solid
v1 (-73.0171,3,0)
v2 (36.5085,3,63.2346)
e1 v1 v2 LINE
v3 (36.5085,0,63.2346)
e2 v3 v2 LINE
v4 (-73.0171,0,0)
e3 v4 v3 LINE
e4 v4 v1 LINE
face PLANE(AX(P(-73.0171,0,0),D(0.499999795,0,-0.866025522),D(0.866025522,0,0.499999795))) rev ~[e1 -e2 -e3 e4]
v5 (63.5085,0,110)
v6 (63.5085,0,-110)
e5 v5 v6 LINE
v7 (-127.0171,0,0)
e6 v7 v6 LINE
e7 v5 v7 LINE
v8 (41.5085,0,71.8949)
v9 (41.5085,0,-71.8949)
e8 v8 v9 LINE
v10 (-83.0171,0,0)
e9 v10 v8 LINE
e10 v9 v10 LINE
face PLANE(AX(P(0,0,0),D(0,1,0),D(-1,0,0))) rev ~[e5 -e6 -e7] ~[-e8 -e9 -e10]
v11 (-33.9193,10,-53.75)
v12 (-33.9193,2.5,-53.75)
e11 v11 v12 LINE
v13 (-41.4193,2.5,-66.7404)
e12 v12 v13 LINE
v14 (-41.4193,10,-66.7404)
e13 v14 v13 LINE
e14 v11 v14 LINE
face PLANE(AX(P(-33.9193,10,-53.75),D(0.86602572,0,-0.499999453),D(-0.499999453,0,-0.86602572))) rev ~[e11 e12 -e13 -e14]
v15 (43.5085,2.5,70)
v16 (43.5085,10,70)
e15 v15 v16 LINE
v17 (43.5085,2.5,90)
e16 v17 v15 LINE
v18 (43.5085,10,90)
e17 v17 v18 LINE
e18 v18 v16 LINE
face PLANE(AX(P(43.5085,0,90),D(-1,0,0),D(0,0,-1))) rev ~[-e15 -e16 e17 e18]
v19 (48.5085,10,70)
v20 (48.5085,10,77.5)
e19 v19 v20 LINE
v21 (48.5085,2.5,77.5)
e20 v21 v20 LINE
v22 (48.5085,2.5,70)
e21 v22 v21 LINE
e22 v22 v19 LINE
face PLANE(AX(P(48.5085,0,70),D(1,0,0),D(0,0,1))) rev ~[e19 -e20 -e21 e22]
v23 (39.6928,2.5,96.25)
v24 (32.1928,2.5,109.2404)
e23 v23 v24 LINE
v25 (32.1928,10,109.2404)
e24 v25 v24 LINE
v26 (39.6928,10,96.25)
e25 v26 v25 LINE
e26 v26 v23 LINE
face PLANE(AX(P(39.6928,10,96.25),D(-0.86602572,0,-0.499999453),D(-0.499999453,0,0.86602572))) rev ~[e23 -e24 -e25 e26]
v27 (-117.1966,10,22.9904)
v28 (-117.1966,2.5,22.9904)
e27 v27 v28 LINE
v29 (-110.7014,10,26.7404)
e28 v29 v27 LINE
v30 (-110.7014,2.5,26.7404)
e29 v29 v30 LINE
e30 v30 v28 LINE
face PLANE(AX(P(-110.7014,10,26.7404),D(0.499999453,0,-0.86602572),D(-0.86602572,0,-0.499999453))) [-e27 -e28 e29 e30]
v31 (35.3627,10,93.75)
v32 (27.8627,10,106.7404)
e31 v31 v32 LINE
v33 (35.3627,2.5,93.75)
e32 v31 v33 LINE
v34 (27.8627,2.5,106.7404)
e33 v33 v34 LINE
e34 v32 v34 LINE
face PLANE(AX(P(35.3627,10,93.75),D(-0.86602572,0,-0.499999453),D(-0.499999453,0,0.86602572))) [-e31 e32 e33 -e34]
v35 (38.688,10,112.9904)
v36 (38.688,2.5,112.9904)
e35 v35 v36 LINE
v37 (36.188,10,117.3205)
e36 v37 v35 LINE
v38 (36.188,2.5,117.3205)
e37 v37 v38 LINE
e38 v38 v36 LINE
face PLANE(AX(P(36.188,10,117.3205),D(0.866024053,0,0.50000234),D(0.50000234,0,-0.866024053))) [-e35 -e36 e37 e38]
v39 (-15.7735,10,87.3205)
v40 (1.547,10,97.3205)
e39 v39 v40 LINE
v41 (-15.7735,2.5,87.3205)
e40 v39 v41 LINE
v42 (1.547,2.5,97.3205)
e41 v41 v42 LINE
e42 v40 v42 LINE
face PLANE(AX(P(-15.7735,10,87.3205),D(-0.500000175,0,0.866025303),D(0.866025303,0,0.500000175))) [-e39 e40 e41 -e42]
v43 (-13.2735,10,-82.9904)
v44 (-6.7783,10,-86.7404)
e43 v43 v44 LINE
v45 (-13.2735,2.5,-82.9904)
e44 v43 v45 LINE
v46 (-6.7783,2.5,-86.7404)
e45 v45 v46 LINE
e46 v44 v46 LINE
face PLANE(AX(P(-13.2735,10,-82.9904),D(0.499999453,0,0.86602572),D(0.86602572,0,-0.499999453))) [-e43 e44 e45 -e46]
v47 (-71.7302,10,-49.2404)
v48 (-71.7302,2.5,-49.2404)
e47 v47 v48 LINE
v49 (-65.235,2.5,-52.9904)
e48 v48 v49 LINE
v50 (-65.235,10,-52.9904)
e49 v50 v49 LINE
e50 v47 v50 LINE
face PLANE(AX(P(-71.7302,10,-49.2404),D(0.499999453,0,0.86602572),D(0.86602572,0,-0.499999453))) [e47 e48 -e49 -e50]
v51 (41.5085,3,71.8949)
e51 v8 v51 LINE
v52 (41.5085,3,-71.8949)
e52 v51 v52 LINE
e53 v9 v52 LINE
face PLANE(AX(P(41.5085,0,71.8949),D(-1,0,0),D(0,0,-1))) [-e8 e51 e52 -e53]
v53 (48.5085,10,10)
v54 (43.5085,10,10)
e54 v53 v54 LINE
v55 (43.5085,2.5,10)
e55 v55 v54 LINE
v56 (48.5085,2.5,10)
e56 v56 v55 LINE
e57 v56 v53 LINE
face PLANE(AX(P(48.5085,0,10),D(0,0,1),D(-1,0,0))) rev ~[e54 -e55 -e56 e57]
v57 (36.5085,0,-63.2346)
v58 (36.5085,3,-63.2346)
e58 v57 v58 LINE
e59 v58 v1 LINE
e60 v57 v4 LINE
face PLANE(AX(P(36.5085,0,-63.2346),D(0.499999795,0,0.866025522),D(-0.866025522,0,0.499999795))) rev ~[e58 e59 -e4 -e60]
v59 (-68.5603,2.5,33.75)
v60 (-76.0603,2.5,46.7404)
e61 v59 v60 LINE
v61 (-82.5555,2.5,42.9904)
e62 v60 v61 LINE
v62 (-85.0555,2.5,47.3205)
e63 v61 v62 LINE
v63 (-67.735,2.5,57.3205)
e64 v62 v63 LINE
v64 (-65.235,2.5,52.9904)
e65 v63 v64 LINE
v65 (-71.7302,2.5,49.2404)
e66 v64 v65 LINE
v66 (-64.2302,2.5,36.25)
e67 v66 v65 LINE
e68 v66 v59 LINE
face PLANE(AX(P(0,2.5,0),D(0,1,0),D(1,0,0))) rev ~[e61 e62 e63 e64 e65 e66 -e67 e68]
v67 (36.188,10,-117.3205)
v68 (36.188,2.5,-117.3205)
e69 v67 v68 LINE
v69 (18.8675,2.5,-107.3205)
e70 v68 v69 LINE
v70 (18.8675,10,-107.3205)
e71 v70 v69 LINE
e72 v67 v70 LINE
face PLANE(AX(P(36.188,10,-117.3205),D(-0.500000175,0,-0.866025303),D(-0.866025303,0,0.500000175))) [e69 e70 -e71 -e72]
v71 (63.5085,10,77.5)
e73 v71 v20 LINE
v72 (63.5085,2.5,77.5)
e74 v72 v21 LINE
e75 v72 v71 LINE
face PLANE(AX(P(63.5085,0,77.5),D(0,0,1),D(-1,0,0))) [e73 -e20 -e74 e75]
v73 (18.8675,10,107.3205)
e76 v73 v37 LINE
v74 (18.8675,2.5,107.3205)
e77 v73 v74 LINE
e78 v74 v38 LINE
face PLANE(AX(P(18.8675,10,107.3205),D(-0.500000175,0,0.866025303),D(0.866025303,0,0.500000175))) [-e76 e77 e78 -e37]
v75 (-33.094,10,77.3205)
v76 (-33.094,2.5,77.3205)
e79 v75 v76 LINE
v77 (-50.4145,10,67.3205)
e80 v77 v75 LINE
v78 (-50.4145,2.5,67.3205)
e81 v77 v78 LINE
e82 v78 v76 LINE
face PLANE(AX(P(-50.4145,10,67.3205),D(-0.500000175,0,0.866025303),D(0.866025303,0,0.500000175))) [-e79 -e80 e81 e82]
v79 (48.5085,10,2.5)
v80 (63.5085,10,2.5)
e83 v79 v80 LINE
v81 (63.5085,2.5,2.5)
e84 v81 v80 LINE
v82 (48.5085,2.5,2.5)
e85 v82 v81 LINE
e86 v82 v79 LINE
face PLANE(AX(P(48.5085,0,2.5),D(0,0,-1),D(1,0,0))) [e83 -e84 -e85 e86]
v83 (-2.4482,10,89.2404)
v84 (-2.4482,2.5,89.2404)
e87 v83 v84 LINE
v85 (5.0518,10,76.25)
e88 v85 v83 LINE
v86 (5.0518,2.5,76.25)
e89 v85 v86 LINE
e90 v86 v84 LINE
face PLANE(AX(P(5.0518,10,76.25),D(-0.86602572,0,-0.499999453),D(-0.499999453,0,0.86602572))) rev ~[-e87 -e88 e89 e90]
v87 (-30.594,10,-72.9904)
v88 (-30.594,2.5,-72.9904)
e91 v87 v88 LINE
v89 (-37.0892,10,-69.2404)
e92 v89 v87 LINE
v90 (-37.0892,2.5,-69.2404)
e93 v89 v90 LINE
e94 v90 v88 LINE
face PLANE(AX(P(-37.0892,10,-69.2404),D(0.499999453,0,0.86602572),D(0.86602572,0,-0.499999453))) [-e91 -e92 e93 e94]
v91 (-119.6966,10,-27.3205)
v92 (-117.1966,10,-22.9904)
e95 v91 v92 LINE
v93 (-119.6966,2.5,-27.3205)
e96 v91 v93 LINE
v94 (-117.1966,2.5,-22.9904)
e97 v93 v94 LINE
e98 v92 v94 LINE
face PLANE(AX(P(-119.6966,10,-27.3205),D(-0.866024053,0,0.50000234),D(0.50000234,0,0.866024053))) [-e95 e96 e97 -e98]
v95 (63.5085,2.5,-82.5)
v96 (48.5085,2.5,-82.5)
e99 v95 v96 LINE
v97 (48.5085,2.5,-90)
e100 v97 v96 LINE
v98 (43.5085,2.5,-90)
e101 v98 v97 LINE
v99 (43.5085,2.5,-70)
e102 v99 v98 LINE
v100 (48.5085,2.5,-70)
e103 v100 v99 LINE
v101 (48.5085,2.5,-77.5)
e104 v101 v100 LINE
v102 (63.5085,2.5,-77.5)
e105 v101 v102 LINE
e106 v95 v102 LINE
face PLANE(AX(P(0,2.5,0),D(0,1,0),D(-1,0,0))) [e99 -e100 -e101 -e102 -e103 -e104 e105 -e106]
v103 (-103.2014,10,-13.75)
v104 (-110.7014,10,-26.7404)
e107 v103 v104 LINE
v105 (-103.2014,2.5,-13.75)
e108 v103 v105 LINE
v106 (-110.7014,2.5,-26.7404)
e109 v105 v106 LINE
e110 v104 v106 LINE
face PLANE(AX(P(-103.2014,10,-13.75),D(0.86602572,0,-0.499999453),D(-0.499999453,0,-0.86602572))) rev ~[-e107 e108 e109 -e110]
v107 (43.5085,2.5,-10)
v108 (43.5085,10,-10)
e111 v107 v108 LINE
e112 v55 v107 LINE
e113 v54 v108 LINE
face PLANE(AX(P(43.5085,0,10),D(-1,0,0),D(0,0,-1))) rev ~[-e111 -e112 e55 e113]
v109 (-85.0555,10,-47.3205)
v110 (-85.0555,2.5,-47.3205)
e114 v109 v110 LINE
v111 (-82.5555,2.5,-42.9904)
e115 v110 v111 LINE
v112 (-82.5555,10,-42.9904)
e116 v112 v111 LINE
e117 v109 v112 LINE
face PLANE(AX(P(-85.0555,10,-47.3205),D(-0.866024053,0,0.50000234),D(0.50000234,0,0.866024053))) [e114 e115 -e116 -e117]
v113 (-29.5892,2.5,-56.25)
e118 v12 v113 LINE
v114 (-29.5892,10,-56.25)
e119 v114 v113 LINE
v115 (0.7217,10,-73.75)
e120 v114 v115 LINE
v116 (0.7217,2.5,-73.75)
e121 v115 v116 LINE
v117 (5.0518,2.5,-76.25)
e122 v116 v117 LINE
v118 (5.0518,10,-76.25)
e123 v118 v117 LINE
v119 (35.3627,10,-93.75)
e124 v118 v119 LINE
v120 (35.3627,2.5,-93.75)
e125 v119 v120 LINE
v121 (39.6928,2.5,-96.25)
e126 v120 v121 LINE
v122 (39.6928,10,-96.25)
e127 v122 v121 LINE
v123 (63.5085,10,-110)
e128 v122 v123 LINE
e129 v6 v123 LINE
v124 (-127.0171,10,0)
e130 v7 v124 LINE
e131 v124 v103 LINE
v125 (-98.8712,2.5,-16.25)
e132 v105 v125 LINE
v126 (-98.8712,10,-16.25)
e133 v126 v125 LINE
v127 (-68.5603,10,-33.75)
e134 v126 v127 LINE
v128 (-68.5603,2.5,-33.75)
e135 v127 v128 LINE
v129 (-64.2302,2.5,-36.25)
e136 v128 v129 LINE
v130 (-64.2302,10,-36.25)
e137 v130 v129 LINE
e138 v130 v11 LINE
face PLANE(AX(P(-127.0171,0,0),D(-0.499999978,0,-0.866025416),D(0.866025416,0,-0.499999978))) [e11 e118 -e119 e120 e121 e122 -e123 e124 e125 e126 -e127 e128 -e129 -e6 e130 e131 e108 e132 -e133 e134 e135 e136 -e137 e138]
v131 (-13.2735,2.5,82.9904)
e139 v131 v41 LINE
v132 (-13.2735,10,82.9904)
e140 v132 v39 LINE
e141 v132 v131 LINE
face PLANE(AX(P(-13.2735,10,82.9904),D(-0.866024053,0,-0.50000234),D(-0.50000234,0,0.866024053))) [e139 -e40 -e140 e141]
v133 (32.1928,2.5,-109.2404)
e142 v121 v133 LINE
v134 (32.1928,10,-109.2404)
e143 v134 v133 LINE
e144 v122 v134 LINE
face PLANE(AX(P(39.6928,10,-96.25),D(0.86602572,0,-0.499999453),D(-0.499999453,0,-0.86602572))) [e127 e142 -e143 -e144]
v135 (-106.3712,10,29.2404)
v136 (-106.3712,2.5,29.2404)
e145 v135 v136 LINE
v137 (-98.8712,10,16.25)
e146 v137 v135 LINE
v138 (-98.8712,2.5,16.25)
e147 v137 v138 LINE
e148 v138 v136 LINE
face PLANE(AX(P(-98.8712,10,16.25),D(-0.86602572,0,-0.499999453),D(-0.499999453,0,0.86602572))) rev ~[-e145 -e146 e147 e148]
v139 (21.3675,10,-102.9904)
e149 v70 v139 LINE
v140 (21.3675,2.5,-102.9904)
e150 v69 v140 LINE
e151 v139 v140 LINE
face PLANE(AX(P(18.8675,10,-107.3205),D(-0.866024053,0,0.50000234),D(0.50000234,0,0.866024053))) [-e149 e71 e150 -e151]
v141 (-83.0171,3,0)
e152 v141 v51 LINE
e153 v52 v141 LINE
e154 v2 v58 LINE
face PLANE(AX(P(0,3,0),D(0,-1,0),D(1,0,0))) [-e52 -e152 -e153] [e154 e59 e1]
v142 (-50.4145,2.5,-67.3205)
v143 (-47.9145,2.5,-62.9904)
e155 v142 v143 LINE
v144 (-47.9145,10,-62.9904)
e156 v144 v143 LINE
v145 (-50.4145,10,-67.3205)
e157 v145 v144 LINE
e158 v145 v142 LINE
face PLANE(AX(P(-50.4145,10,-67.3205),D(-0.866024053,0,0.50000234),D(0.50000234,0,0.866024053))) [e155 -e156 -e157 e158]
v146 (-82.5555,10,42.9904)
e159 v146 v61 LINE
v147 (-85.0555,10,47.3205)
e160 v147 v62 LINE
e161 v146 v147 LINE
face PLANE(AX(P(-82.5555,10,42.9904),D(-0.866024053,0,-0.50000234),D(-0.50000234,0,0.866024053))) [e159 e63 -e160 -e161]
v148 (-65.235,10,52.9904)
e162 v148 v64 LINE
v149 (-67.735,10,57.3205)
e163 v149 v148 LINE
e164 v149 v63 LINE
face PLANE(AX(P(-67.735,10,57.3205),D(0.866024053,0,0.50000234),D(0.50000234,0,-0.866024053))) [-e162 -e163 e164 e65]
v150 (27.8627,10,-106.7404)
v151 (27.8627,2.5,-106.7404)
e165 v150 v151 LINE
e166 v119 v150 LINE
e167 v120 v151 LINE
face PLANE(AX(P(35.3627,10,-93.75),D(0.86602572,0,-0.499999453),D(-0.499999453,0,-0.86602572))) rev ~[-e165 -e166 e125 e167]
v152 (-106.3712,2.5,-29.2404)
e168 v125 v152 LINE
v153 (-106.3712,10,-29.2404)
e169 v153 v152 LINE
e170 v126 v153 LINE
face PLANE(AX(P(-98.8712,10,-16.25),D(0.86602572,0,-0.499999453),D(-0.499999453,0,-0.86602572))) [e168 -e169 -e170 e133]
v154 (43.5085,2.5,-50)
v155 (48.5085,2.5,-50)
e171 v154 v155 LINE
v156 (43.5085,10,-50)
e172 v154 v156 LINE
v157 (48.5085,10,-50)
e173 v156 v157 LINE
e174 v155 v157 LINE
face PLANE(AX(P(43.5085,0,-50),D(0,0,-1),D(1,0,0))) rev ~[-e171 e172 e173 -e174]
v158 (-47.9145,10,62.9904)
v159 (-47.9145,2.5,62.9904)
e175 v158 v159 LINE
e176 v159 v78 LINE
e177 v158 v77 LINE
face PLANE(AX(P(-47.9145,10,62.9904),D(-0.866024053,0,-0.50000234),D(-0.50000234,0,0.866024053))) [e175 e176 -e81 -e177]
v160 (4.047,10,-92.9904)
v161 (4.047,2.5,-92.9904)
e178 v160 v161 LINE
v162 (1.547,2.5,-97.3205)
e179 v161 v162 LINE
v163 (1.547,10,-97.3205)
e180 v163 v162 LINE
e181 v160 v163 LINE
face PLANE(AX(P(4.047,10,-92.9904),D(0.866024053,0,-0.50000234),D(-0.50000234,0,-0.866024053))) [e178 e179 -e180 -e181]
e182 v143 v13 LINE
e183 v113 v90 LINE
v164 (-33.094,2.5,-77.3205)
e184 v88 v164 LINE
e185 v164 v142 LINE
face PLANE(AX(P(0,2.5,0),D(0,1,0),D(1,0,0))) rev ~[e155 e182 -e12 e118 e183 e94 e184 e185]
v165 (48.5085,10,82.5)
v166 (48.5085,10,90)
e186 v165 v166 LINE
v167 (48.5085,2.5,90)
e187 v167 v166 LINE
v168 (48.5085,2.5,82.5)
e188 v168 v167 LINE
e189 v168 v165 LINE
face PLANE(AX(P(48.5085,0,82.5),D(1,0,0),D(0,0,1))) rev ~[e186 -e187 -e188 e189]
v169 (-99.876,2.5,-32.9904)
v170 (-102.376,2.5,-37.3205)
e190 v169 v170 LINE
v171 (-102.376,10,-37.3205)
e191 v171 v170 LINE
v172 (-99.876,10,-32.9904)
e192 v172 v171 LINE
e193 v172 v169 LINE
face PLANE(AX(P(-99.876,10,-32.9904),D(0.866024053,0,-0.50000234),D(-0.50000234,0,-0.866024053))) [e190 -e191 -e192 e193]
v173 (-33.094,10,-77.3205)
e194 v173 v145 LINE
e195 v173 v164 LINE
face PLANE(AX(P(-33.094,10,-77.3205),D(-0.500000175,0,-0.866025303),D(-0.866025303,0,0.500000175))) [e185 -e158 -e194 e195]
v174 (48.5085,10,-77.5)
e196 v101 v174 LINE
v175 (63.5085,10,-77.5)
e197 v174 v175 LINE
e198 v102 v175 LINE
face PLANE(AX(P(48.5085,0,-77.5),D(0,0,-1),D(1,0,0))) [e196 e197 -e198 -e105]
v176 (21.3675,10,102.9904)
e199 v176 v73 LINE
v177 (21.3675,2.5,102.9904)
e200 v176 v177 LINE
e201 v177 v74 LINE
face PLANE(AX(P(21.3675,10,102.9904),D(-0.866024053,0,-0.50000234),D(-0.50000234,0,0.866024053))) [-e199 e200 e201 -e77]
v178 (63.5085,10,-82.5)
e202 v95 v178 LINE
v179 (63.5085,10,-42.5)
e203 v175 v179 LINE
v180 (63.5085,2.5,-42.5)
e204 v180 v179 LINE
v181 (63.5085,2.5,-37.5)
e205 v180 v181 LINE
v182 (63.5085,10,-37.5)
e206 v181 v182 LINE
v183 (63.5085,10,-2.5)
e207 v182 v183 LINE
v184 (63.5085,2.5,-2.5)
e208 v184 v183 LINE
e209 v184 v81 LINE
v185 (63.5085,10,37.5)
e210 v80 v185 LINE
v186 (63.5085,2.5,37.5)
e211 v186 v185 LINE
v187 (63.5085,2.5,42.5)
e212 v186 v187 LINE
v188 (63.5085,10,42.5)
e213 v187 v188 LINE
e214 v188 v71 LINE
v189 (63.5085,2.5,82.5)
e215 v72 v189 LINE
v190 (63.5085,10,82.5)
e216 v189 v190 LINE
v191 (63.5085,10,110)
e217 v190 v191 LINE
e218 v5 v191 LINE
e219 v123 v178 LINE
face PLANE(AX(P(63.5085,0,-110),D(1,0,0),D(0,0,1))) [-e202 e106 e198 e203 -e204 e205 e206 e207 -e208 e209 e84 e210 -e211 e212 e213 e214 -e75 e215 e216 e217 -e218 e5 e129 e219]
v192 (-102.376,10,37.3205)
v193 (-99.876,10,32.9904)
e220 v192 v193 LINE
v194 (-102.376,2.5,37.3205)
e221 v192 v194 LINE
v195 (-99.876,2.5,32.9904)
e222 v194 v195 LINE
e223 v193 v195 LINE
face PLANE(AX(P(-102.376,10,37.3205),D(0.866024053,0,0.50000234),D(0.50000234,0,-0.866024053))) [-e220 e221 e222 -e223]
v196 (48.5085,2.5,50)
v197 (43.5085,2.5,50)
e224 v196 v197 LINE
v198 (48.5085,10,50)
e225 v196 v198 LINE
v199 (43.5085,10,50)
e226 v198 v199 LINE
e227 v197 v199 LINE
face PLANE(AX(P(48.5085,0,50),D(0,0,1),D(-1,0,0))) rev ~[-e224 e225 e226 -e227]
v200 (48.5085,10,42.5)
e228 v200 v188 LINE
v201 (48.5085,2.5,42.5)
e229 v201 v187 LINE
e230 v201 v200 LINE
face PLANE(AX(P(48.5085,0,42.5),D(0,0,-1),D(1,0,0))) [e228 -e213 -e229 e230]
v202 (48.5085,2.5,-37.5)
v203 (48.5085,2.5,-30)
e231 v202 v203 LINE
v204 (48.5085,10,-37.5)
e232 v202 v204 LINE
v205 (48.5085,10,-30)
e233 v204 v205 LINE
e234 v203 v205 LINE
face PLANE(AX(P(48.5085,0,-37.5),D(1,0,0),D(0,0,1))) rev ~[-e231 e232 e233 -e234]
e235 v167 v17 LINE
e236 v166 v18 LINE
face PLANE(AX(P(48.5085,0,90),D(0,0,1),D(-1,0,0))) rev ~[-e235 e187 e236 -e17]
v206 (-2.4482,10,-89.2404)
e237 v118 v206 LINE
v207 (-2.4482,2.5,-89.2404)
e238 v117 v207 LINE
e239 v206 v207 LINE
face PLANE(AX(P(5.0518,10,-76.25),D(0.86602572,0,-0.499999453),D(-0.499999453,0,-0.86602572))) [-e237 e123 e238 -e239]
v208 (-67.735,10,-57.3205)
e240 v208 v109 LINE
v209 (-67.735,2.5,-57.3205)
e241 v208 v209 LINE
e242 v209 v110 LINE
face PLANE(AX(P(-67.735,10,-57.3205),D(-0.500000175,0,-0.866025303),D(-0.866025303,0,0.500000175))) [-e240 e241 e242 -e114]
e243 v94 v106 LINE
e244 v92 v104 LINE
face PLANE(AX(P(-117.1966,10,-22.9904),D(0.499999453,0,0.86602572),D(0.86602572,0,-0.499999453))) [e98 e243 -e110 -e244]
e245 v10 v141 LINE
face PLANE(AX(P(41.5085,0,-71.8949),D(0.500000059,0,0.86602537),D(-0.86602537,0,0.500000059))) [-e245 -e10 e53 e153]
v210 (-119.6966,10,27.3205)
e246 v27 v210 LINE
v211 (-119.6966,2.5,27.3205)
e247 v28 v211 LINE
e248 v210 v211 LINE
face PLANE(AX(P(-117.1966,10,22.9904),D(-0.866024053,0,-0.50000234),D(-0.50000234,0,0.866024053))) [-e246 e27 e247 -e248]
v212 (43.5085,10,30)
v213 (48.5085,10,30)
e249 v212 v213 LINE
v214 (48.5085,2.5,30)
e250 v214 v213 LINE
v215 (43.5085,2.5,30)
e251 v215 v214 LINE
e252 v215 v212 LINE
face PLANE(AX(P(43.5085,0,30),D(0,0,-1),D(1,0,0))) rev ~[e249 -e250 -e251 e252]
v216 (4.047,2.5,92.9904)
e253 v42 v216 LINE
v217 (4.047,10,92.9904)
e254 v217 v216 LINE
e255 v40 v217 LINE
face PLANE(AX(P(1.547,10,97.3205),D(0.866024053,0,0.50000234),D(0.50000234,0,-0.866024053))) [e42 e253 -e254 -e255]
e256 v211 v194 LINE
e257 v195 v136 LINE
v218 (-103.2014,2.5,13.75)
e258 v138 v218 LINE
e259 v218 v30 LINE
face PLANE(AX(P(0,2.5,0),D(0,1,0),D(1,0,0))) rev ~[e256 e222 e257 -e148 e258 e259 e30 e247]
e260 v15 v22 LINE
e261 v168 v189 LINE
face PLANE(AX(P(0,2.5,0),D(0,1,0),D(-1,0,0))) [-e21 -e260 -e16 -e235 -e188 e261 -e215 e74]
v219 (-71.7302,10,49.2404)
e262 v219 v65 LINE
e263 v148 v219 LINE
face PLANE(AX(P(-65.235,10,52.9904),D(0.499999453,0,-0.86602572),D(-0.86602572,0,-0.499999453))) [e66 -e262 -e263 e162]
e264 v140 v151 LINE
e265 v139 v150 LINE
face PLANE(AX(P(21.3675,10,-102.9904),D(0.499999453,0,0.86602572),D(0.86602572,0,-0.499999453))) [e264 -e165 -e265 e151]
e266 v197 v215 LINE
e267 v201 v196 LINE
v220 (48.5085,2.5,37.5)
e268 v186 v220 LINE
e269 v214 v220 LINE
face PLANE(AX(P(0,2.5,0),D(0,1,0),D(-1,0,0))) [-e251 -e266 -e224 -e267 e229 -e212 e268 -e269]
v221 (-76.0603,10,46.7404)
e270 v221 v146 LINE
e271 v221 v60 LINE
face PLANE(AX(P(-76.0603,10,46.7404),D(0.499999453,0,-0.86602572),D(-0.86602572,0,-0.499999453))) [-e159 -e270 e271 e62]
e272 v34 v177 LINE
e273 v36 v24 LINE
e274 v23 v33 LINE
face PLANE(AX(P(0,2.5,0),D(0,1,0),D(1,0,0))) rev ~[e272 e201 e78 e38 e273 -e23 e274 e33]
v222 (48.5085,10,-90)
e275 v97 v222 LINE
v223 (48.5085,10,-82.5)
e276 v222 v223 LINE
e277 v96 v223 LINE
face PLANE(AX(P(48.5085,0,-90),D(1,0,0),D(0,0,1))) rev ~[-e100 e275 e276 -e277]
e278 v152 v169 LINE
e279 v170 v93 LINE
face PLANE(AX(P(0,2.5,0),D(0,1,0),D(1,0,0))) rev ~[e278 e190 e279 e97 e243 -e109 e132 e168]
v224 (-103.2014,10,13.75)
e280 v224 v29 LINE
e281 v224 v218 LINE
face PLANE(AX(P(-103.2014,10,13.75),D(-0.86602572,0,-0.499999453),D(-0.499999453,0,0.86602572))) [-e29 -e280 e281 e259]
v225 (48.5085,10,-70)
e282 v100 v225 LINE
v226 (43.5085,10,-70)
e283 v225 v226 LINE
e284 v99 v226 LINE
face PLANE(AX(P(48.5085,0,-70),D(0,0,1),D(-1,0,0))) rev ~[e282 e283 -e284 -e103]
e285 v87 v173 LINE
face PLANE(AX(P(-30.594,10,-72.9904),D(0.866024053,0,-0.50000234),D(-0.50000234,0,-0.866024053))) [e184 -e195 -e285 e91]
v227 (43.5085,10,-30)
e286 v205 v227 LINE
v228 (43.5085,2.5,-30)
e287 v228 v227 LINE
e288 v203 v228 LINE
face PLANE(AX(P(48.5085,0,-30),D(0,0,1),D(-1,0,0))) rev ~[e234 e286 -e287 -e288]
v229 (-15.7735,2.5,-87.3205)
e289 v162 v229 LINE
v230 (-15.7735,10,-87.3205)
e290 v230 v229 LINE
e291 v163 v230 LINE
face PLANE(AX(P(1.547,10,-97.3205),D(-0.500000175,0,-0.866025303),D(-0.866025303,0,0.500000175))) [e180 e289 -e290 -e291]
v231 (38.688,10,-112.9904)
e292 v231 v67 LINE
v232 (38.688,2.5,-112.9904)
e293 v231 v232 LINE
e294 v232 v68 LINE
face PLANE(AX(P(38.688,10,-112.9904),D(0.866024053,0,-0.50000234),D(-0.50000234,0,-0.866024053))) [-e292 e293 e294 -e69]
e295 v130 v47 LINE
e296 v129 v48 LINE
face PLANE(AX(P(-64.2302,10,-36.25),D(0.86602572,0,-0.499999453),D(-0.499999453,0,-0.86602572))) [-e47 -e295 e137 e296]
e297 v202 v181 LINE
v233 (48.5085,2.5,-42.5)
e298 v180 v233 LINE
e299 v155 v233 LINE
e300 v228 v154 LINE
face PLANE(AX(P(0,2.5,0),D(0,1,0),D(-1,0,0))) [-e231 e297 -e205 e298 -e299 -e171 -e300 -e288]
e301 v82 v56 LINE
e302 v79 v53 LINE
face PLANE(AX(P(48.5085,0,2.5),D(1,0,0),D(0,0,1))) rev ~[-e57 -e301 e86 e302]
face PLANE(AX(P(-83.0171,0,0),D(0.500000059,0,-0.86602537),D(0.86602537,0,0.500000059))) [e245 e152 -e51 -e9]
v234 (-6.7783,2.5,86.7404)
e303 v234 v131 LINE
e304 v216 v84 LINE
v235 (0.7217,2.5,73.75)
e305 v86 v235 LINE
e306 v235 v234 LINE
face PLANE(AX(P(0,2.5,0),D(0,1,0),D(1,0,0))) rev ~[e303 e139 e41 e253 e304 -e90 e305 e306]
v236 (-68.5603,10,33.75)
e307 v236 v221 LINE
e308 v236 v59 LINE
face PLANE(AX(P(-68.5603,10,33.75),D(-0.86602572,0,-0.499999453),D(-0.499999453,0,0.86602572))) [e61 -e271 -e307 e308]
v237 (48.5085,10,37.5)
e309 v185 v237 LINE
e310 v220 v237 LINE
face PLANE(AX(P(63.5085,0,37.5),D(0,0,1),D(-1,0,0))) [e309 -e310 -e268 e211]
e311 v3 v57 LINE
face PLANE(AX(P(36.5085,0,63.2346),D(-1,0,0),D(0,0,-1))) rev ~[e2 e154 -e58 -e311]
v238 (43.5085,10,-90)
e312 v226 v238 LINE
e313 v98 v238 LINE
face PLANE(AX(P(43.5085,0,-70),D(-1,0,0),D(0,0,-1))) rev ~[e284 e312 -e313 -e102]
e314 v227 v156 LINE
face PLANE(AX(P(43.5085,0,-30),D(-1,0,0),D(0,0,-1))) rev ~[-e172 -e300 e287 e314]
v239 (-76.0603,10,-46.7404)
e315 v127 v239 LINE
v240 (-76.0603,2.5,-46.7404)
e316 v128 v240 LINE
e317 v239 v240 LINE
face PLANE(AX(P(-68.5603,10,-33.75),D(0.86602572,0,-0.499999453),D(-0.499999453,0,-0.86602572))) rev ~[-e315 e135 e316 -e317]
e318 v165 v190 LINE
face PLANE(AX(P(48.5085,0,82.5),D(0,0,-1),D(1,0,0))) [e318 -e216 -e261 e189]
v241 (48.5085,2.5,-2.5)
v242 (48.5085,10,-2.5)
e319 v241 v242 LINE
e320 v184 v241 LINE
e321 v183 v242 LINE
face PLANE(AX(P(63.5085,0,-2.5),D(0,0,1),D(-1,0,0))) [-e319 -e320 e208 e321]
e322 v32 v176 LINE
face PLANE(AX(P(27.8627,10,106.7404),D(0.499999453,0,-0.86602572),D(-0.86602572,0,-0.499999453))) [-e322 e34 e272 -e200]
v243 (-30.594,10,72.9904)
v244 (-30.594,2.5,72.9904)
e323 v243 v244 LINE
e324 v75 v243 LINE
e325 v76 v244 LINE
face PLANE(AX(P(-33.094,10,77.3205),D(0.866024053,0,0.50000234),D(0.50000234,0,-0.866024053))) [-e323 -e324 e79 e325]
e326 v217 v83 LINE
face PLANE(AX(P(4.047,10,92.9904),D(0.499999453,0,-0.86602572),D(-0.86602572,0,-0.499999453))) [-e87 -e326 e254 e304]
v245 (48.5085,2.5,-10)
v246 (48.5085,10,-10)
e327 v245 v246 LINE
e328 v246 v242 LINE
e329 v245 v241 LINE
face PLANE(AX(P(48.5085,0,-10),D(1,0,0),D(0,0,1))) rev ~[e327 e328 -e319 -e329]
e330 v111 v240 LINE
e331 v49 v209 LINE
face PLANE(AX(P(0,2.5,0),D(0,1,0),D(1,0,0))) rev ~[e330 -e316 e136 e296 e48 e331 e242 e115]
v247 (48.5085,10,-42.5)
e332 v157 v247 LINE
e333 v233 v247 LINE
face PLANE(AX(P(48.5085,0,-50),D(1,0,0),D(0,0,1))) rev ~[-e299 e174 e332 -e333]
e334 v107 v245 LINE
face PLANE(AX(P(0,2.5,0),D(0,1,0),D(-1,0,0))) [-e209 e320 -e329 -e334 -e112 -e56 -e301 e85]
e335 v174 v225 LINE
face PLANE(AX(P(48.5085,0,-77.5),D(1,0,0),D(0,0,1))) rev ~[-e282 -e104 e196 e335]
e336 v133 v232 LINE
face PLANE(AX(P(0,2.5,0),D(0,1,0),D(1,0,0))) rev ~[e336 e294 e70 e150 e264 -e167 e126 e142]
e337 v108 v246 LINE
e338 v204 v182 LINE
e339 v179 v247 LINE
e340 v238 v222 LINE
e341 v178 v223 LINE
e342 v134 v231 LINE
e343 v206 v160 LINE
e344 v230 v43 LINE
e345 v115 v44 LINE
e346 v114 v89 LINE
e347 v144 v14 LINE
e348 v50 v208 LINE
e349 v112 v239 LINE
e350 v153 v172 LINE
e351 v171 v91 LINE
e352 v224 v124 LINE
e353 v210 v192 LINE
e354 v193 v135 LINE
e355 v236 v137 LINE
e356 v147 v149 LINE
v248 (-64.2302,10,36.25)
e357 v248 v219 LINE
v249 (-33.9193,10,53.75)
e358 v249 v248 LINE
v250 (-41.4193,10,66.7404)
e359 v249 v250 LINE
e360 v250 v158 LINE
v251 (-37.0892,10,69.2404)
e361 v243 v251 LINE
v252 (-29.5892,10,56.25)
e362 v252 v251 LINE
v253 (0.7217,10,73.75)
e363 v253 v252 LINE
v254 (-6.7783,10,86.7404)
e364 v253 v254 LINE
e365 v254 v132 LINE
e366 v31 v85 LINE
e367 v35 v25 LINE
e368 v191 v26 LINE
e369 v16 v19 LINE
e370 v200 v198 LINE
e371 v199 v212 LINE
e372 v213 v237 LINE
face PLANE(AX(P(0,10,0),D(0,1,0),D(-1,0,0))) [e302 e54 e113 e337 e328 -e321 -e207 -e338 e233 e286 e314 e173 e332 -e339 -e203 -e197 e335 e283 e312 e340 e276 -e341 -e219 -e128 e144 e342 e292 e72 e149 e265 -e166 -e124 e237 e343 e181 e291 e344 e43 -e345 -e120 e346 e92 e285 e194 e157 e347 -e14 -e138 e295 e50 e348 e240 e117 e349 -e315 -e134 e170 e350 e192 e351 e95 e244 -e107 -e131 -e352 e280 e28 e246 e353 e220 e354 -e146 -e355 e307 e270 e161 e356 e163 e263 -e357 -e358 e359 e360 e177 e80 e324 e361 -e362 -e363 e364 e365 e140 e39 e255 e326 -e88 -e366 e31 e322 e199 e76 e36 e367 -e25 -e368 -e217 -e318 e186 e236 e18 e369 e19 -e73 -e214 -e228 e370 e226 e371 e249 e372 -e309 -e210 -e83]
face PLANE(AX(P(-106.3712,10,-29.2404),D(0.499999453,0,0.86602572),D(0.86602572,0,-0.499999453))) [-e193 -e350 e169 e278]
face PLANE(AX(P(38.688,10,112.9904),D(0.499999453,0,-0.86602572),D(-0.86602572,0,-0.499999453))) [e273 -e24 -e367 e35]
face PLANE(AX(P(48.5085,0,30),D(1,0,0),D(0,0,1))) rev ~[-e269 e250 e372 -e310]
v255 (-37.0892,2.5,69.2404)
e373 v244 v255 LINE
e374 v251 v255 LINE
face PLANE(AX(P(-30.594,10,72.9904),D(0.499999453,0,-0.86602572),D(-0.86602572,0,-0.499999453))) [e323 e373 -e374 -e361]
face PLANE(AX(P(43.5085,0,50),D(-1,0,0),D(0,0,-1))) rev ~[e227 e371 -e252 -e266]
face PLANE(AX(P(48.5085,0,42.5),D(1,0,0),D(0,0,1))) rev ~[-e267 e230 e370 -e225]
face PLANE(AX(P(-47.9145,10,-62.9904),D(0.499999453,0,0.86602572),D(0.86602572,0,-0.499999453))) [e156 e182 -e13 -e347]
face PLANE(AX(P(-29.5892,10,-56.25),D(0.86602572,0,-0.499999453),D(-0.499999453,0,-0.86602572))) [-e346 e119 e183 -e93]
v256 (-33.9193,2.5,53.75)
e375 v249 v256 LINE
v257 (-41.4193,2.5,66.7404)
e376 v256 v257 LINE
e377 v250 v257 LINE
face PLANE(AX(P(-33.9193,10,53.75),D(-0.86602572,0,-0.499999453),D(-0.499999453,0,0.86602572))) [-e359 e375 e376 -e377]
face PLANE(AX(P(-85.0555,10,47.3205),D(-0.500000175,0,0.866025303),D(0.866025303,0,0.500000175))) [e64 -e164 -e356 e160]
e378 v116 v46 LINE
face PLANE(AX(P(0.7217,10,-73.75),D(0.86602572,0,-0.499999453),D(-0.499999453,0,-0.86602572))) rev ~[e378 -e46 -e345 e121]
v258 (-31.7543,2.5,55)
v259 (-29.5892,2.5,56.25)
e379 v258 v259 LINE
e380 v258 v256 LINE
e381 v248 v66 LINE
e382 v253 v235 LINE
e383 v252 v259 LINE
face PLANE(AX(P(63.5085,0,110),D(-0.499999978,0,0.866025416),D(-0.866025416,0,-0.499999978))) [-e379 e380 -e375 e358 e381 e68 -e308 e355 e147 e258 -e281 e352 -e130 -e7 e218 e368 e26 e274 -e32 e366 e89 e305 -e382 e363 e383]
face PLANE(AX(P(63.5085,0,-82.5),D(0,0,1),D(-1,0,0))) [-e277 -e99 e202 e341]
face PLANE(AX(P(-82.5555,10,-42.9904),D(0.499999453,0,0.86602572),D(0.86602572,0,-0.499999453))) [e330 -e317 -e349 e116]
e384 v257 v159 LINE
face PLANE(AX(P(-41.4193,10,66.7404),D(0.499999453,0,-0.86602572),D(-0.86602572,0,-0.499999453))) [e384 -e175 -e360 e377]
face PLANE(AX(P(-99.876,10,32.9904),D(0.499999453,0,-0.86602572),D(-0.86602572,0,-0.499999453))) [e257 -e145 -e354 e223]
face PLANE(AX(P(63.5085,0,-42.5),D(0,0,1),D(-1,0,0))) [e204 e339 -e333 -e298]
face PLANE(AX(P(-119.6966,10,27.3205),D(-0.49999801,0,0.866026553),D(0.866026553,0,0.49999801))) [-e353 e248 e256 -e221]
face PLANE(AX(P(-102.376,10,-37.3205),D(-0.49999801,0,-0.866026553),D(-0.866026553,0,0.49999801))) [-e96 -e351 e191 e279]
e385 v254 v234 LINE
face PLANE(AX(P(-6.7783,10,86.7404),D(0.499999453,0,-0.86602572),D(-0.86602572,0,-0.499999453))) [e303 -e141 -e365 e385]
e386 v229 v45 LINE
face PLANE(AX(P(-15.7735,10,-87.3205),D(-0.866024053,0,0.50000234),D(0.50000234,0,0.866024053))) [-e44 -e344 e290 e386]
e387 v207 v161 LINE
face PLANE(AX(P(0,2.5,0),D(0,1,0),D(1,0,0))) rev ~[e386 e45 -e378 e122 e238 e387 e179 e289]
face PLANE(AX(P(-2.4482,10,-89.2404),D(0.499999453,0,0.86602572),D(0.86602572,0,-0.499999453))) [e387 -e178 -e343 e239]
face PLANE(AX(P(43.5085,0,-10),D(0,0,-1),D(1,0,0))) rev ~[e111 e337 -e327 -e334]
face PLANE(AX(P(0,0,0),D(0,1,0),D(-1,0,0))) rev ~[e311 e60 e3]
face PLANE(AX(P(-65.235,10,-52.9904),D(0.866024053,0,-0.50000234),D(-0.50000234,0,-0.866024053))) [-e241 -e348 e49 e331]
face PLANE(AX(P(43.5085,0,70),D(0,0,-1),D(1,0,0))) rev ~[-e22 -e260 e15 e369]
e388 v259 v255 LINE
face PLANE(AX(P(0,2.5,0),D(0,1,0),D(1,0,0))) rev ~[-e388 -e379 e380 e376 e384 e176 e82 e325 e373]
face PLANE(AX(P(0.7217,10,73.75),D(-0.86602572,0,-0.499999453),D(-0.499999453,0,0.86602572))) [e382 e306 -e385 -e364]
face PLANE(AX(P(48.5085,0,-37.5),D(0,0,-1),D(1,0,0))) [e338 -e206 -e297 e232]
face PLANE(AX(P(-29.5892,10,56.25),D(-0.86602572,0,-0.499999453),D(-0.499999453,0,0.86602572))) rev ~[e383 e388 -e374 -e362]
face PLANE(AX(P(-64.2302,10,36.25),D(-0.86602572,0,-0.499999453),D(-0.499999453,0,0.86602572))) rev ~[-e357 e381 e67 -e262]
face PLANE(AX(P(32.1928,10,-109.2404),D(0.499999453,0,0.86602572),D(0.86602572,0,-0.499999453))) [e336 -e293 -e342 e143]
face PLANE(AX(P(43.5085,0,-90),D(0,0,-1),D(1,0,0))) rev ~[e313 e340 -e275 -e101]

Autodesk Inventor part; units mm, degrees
ref_plane "YZ Plane" through (0, 0, 0) normal (1, 0, 0) x (0, 1, 0)
ref_plane "XZ Plane" through (0, 0, 0) normal (0, 1, 0) x (-1, 0, 0)
ref_plane "XY Plane" through (0, 0, 0) normal (0, 0, 1) x (1, 0, 0)
sketch "Sketch1" plane through (0, 0, 0) normal (0, 1, 0) x (-1, 0, 0)
  circle A0 centre (0, 0) radius 127.0171
  line L0 (127.0171, 0) -> (-63.5085, -110)
  line L1 (-63.5085, -110) -> (-63.5085, 110)
  line L2 (-63.5085, 110) -> (127.0171, 0)
  line L3 (-46.0085, 2.5) -> (-81.0085, 2.5)
  line L4 (-81.0085, 2.5) -> (-81.0085, -2.5)
  line L5 (-81.0085, -2.5) -> (-46.0085, -2.5)
  line L6 (-46.0085, -2.5) -> (-46.0085, 2.5)
  line L7 (-46.0085, 2.5) -> (-81.0085, -2.5) construction
  line L8 (-81.0085, 2.5) -> (-46.0085, -2.5) construction
  line L9 (-48.5085, 10) -> (-43.5085, 10)
  line L10 (-43.5085, 10) -> (-43.5085, -10)
  line L11 (-43.5085, -10) -> (-48.5085, -10)
  line L12 (-48.5085, -10) -> (-48.5085, 10)
  line L13 (-48.5085, 10) -> (-43.5085, -10) construction
  line L14 (-43.5085, 10) -> (-48.5085, -10) construction
  line L15 (-43.5085, 50) -> (-43.5085, 30)
  line L16 (-48.5085, 50) -> (-43.5085, 50)
  line L17 (-48.5085, 30) -> (-48.5085, 50)
  line L18 (-43.5085, 30) -> (-48.5085, 30)
  line L19 (-46.0085, 42.5) -> (-81.0085, 42.5)
  line L20 (-81.0085, 37.5) -> (-46.0085, 37.5)
  line L21 (-43.5085, 90) -> (-43.5085, 70)
  line L22 (-48.5085, 90) -> (-43.5085, 90)
  line L23 (-48.5085, 70) -> (-48.5085, 90)
  line L24 (-43.5085, 70) -> (-48.5085, 70)
  line L25 (-46.0085, 82.5) -> (-81.0085, 82.5)
  line L26 (-81.0085, 77.5) -> (-46.0085, 77.5)
  line L27 (-43.5085, -30) -> (-43.5085, -50)
  line L28 (-48.5085, -30) -> (-43.5085, -30)
  line L29 (-48.5085, -50) -> (-48.5085, -30)
  line L30 (-43.5085, -50) -> (-48.5085, -50)
  line L31 (-46.0085, -37.5) -> (-81.0085, -37.5)
  line L32 (-81.0085, -42.5) -> (-46.0085, -42.5)
  line L33 (-43.5085, 10) -> (-43.5085, -10)
  line L34 (-48.5085, 10) -> (-43.5085, 10)
  line L35 (-48.5085, -10) -> (-48.5085, 10)
  line L36 (-43.5085, -10) -> (-48.5085, -10)
  line L37 (-46.0085, 2.5) -> (-81.0085, 2.5)
  line L38 (-81.0085, -2.5) -> (-46.0085, -2.5)
  line L39 (-43.5085, 50) -> (-43.5085, 30)
  line L40 (-48.5085, 50) -> (-43.5085, 50)
  line L41 (-48.5085, 30) -> (-48.5085, 50)
  line L42 (-43.5085, 30) -> (-48.5085, 30)
  line L43 (-46.0085, 42.5) -> (-81.0085, 42.5)
  line L44 (-81.0085, 37.5) -> (-46.0085, 37.5)
  line L45 (-43.5085, -70) -> (-43.5085, -90)
  line L46 (-48.5085, -70) -> (-43.5085, -70)
  line L47 (-48.5085, -90) -> (-48.5085, -70)
  line L48 (-43.5085, -90) -> (-48.5085, -90)
  line L49 (-46.0085, -77.5) -> (-81.0085, -77.5)
  line L50 (-81.0085, -82.5) -> (-46.0085, -82.5)
  line L51 (-43.5085, -30) -> (-43.5085, -50)
  line L52 (-48.5085, -30) -> (-43.5085, -30)
  line L53 (-48.5085, -50) -> (-48.5085, -30)
  line L54 (-43.5085, -50) -> (-48.5085, -50)
  line L55 (-46.0085, -37.5) -> (-81.0085, -37.5)
  line L56 (-81.0085, -42.5) -> (-46.0085, -42.5)
  line L57 (-43.5085, 10) -> (-43.5085, -10)
  line L58 (-48.5085, 10) -> (-43.5085, 10)
  line L59 (-48.5085, -10) -> (-48.5085, 10)
  line L60 (-43.5085, -10) -> (-48.5085, -10)
  line L61 (-46.0085, 2.5) -> (-81.0085, 2.5)
  line L62 (-81.0085, -2.5) -> (-46.0085, -2.5)
  point P0 (-63.5085, 0)
  point P1 (-46.0085, 0)
  point P2 (-48.5085, 42.5)
  point P3 (-63.5085, 42.5)
  point P4 (-63.5085, 37.5)
  point P5 (-48.5085, 37.5)
  point P6 (-48.5085, -37.5)
  point P7 (-63.5085, -37.5)
  point P8 (-63.5085, -42.5)
  point P9 (-48.5085, -42.5)
  point P10 (-48.5085, 82.5)
  point P11 (-63.5085, 82.5)
  point P12 (-63.5085, 77.5)
  point P13 (-48.5085, 77.5)
  point P14 (-48.5085, -77.5)
  point P15 (-63.5085, -77.5)
  point P16 (-63.5085, -82.5)
  point P17 (-48.5085, -82.5)
  point P18 (-48.5085, -2.5)
  point P19 (-48.5085, 2.5)
  point P20 (-63.5085, 2.5)
  point P21 (-63.5085, -2.5)
  dimension "d1" = 220
  dimension "d2" = 35
  dimension "d3" = 5
  dimension "d4" = 5
  dimension "d5" = 20
  dimension "d8" = 40
  dimension "d11" = 40
extrude "Extrusion1" add sketch "Sketch1" along normal blind 10 contours L0 L1 L50 L47 L48 L45 L46 L49 L32 L29 L30 L27 L28 L31 L5 L12 L11 L10 L9 L3 L20 L17 L18 L15 L16 L19 L26 L23 L24 L21 L22 L25 L2 | L25 L23 L26 L1 | L1 L49 L47 L50 | L23 L22 L21 L24 | L47 L46 L45 L48 | L19 L17 L20 L1 | L1 L31 L29 L32 | L17 L16 L15 L18 | L29 L28 L27 L30 | L3 L12 L5 L1 | L12 L9 L10 L11 L5 L6 L3 | L3 L6 L5 L12
extrude "Extrusion2" cut sketch "Sketch1" along normal blind 10 contours L25 L23 L26 L1 | L1 L49 L47 L50 | L23 L22 L21 L24 | L47 L46 L45 L48 | L19 L17 L20 L1 | L1 L31 L29 L32 | L17 L16 L15 L18 | L29 L28 L27 L30 | L3 L12 L5 L1 | L12 L9 L10 L11 L5 L6 L3 | L3 L6 L5 L12
extrude "Extrusion3" add sketch "Sketch1" along normal blind 2.5 contours L25 L23 L26 L1 | L1 L49 L47 L50 | L23 L22 L21 L24 | L47 L46 L45 L48 | L19 L17 L20 L1 | L1 L31 L29 L32 | L17 L16 L15 L18 | L29 L28 L27 L30 | L3 L12 L5 L1 | L12 L9 L10 L11 L5 L6 L3 | L3 L6 L5 L12
sketch "Sketch2" plane through (0, 0, 0) normal (0, -1, 0) x (1, 0, 0)
  line L0 (63.5085, 110) -> (63.5085, -110) projected
  line L1 (-127.0171, 0) -> (63.5085, 110) projected
  line L2 (63.5085, -110) -> (-127.0171, 0) projected
  line L3 (41.5085, 71.8949) -> (41.5085, -71.8949)
  line L4 (41.5085, -71.8949) -> (-83.0171, 0)
  line L5 (-83.0171, 0) -> (41.5085, 71.8949)
  line L6 (36.5085, 63.2346) -> (36.5085, -63.2346)
  line L7 (36.5085, -63.2346) -> (-73.0171, 0)
  line L8 (-73.0171, 0) -> (36.5085, 63.2346)
  point P0 (0, 0)
  dimension "d20" = 22
  dimension "d21" = 5
extrude "Extrusion4" cut sketch "Sketch2" against normal blind 3 contours L3 L4 L5
sketch "Sketch3" plane through (0, 10, 0) normal (0, 1, 0) x (1, 0, 0)
  line L0 (63.5085, 110) -> (-127.0171, 0) projected
  line L1 (-31.7543, 55) -> (-39.2543, 67.9904)
  line L2 (-31.7543, 55) -> (-16.7543, 55) construction
  line L3 (-37.0892, 69.2404) -> (-30.594, 72.9904)
  line L4 (-30.594, 72.9904) -> (-33.094, 77.3205)
  line L5 (-33.094, 77.3205) -> (-50.4145, 67.3205)
  line L6 (-50.4145, 67.3205) -> (-47.9145, 62.9904)
  line L7 (-47.9145, 62.9904) -> (-41.4193, 66.7404)
  line L8 (-31.7543, 55) -> (-33.9193, 53.75)
  line L9 (-33.9193, 53.75) -> (-41.4193, 66.7404)
  line L10 (-33.9193, 53.75) -> (-29.5892, 56.25)
  line L11 (-29.5892, 56.25) -> (-37.0892, 69.2404)
  line L12 (-31.7543, -55) -> (-39.2543, -42.0096) construction
  line L13 (-31.7543, -55) -> (-29.5892, -56.25)
  line L14 (-29.5892, -56.25) -> (-33.9193, -53.75)
  line L15 (-31.7543, -55) -> (-39.2543, -67.9904)
  line L16 (-29.5892, -56.25) -> (-37.0892, -69.2404)
  line L17 (-33.9193, -53.75) -> (-41.4193, -66.7404)
  line L18 (-41.4193, -66.7404) -> (-47.9145, -62.9904)
  line L19 (-30.594, -72.9904) -> (-37.0892, -69.2404)
  line L20 (-47.9145, -62.9904) -> (-50.4145, -67.3205)
  line L21 (-33.094, -77.3205) -> (-30.594, -72.9904)
  line L22 (-50.4145, -67.3205) -> (-33.094, -77.3205)
  line L23 (-85.0555, 47.3205) -> (-82.5555, 42.9904)
  line L24 (-82.5555, 42.9904) -> (-76.0603, 46.7404)
  line L25 (-66.3953, 35) -> (-68.5603, 33.75)
  line L26 (-68.5603, 33.75) -> (-64.2302, 36.25)
  line L27 (-68.5603, 33.75) -> (-76.0603, 46.7404)
  line L28 (-66.3953, 35) -> (-73.8953, 47.9904)
  line L29 (-64.2302, 36.25) -> (-71.7302, 49.2404)
  line L30 (-67.735, 57.3205) -> (-85.0555, 47.3205)
  line L31 (-66.3953, 35) -> (-51.3953, 35) construction
  line L32 (-65.235, 52.9904) -> (-67.735, 57.3205)
  line L33 (-71.7302, 49.2404) -> (-65.235, 52.9904)
  line L34 (-119.6966, 27.3205) -> (-117.1966, 22.9904)
  line L35 (-117.1966, 22.9904) -> (-110.7014, 26.7404)
  line L36 (-101.0363, 15) -> (-103.2014, 13.75)
  line L37 (-103.2014, 13.75) -> (-98.8712, 16.25)
  line L38 (-103.2014, 13.75) -> (-110.7014, 26.7404)
  line L39 (-101.0363, 15) -> (-108.5363, 27.9904)
  line L40 (-98.8712, 16.25) -> (-106.3712, 29.2404)
  line L41 (-102.376, 37.3205) -> (-119.6966, 27.3205)
  line L42 (-101.0363, 15) -> (-86.0363, 15) construction
  line L43 (-99.876, 32.9904) -> (-102.376, 37.3205)
  line L44 (-106.3712, 29.2404) -> (-99.876, 32.9904)
  line L45 (-15.7735, 87.3205) -> (-13.2735, 82.9904)
  line L46 (-13.2735, 82.9904) -> (-6.7783, 86.7404)
  line L47 (2.8868, 75) -> (0.7217, 73.75)
  line L48 (0.7217, 73.75) -> (5.0518, 76.25)
  line L49 (0.7217, 73.75) -> (-6.7783, 86.7404)
  line L50 (2.8868, 75) -> (-4.6132, 87.9904)
  line L51 (5.0518, 76.25) -> (-2.4482, 89.2404)
  line L52 (1.547, 97.3205) -> (-15.7735, 87.3205)
  line L53 (2.8868, 75) -> (17.8868, 75) construction
  line L54 (4.047, 92.9904) -> (1.547, 97.3205)
  line L55 (-2.4482, 89.2404) -> (4.047, 92.9904)
  line L56 (-50.4145, 67.3205) -> (-47.9145, 62.9904)
  line L57 (-47.9145, 62.9904) -> (-41.4193, 66.7404)
  line L58 (-31.7543, 55) -> (-33.9193, 53.75)
  line L59 (-33.9193, 53.75) -> (-29.5892, 56.25)
  line L60 (-33.9193, 53.75) -> (-41.4193, 66.7404)
  line L61 (-31.7543, 55) -> (-39.2543, 67.9904)
  line L62 (-29.5892, 56.25) -> (-37.0892, 69.2404)
  line L63 (-33.094, 77.3205) -> (-50.4145, 67.3205)
  line L64 (-31.7543, 55) -> (-16.7543, 55) construction
  line L65 (-30.594, 72.9904) -> (-33.094, 77.3205)
  line L66 (-37.0892, 69.2404) -> (-30.594, 72.9904)
  line L67 (-85.0555, 47.3205) -> (-82.5555, 42.9904)
  line L68 (-82.5555, 42.9904) -> (-76.0603, 46.7404)
  line L69 (-66.3953, 35) -> (-68.5603, 33.75)
  line L70 (-68.5603, 33.75) -> (-64.2302, 36.25)
  line L71 (-68.5603, 33.75) -> (-76.0603, 46.7404)
  line L72 (-66.3953, 35) -> (-73.8953, 47.9904)
  line L73 (-64.2302, 36.25) -> (-71.7302, 49.2404)
  line L74 (-67.735, 57.3205) -> (-85.0555, 47.3205)
  line L75 (-66.3953, 35) -> (-51.3953, 35) construction
  line L76 (-65.235, 52.9904) -> (-67.735, 57.3205)
  line L77 (-71.7302, 49.2404) -> (-65.235, 52.9904)
  line L78 (18.8675, 107.3205) -> (21.3675, 102.9904)
  line L79 (21.3675, 102.9904) -> (27.8627, 106.7404)
  line L80 (37.5278, 95) -> (35.3627, 93.75)
  line L81 (35.3627, 93.75) -> (39.6928, 96.25)
  line L82 (35.3627, 93.75) -> (27.8627, 106.7404)
  line L83 (37.5278, 95) -> (30.0278, 107.9904)
  line L84 (39.6928, 96.25) -> (32.1928, 109.2404)
  line L85 (36.188, 117.3205) -> (18.8675, 107.3205)
  line L86 (37.5278, 95) -> (52.5278, 95) construction
  line L87 (38.688, 112.9904) -> (36.188, 117.3205)
  line L88 (32.1928, 109.2404) -> (38.688, 112.9904)
  line L89 (-15.7735, 87.3205) -> (-13.2735, 82.9904)
  line L90 (-13.2735, 82.9904) -> (-6.7783, 86.7404)
  line L91 (2.8868, 75) -> (0.7217, 73.75)
  line L92 (0.7217, 73.75) -> (5.0518, 76.25)
  line L93 (0.7217, 73.75) -> (-6.7783, 86.7404)
  line L94 (2.8868, 75) -> (-4.6132, 87.9904)
  line L95 (5.0518, 76.25) -> (-2.4482, 89.2404)
  line L96 (1.547, 97.3205) -> (-15.7735, 87.3205)
  line L97 (2.8868, 75) -> (17.8868, 75) construction
  line L98 (4.047, 92.9904) -> (1.547, 97.3205)
  line L99 (-2.4482, 89.2404) -> (4.047, 92.9904)
  line L100 (-50.4145, 67.3205) -> (-47.9145, 62.9904)
  line L101 (-47.9145, 62.9904) -> (-41.4193, 66.7404)
  line L102 (-31.7543, 55) -> (-33.9193, 53.75)
  line L103 (-33.9193, 53.75) -> (-29.5892, 56.25)
  line L104 (-33.9193, 53.75) -> (-41.4193, 66.7404)
  line L105 (-31.7543, 55) -> (-39.2543, 67.9904)
  line L106 (-29.5892, 56.25) -> (-37.0892, 69.2404)
  line L107 (-33.094, 77.3205) -> (-50.4145, 67.3205)
  line L108 (-31.7543, 55) -> (-16.7543, 55) construction
  line L109 (-30.594, 72.9904) -> (-33.094, 77.3205)
  line L110 (-37.0892, 69.2404) -> (-30.594, 72.9904)
  line L111 (-127.0171, 0) -> (63.5085, -110) projected
  line L112 (63.5085, -110) -> (-127.0171, 0)
  line L113 (2.8868, -75) -> (-4.6132, -62.0096) construction
  line L114 (2.8868, -75) -> (5.0518, -76.25)
  line L115 (5.0518, -76.25) -> (0.7217, -73.75)
  line L116 (0.7217, -73.75) -> (-6.7783, -86.7404)
  line L117 (2.8868, -75) -> (-4.6132, -87.9904)
  line L118 (5.0518, -76.25) -> (-2.4482, -89.2404)
  line L119 (-6.7783, -86.7404) -> (-13.2735, -82.9904)
  line L120 (-13.2735, -82.9904) -> (-15.7735, -87.3205)
  line L121 (4.047, -92.9904) -> (-2.4482, -89.2404)
  line L122 (1.547, -97.3205) -> (4.047, -92.9904)
  line L123 (-15.7735, -87.3205) -> (1.547, -97.3205)
  line L124 (37.5278, -95) -> (30.0278, -82.0096) construction
  line L125 (37.5278, -95) -> (39.6928, -96.25)
  line L126 (39.6928, -96.25) -> (35.3627, -93.75)
  line L127 (35.3627, -93.75) -> (27.8627, -106.7404)
  line L128 (37.5278, -95) -> (30.0278, -107.9904)
  line L129 (39.6928, -96.25) -> (32.1928, -109.2404)
  line L130 (27.8627, -106.7404) -> (21.3675, -102.9904)
  line L131 (21.3675, -102.9904) -> (18.8675, -107.3205)
  line L132 (38.688, -112.9904) -> (32.1928, -109.2404)
  line L133 (36.188, -117.3205) -> (38.688, -112.9904)
  line L134 (18.8675, -107.3205) -> (36.188, -117.3205)
  line L135 (-66.3953, -35) -> (-73.8953, -22.0096) construction
  line L136 (-66.3953, -35) -> (-64.2302, -36.25)
  line L137 (-64.2302, -36.25) -> (-68.5603, -33.75)
  line L138 (-68.5603, -33.75) -> (-76.0603, -46.7404)
  line L139 (-66.3953, -35) -> (-73.8953, -47.9904)
  line L140 (-64.2302, -36.25) -> (-71.7302, -49.2404)
  line L141 (-76.0603, -46.7404) -> (-82.5555, -42.9904)
  line L142 (-82.5555, -42.9904) -> (-85.0555, -47.3205)
  line L143 (-65.235, -52.9904) -> (-71.7302, -49.2404)
  line L144 (-67.735, -57.3205) -> (-65.235, -52.9904)
  line L145 (-85.0555, -47.3205) -> (-67.735, -57.3205)
  line L146 (-31.7543, -55) -> (-39.2543, -42.0096) construction
  line L147 (-31.7543, -55) -> (-29.5892, -56.25)
  line L148 (-29.5892, -56.25) -> (-33.9193, -53.75)
  line L149 (-33.9193, -53.75) -> (-41.4193, -66.7404)
  line L150 (-31.7543, -55) -> (-39.2543, -67.9904)
  line L151 (-29.5892, -56.25) -> (-37.0892, -69.2404)
  line L152 (-41.4193, -66.7404) -> (-47.9145, -62.9904)
  line L153 (-47.9145, -62.9904) -> (-50.4145, -67.3205)
  line L154 (-30.594, -72.9904) -> (-37.0892, -69.2404)
  line L155 (-33.094, -77.3205) -> (-30.594, -72.9904)
  line L156 (-50.4145, -67.3205) -> (-33.094, -77.3205)
  line L157 (2.8868, -75) -> (-4.6132, -62.0096) construction
  line L158 (2.8868, -75) -> (5.0518, -76.25)
  line L159 (5.0518, -76.25) -> (0.7217, -73.75)
  line L160 (0.7217, -73.75) -> (-6.7783, -86.7404)
  line L161 (2.8868, -75) -> (-4.6132, -87.9904)
  line L162 (5.0518, -76.25) -> (-2.4482, -89.2404)
  line L163 (-6.7783, -86.7404) -> (-13.2735, -82.9904)
  line L164 (-13.2735, -82.9904) -> (-15.7735, -87.3205)
  line L165 (4.047, -92.9904) -> (-2.4482, -89.2404)
  line L166 (1.547, -97.3205) -> (4.047, -92.9904)
  line L167 (-15.7735, -87.3205) -> (1.547, -97.3205)
  line L168 (-101.0363, -15) -> (-108.5363, -2.0096) construction
  line L169 (-101.0363, -15) -> (-98.8712, -16.25)
  line L170 (-98.8712, -16.25) -> (-103.2014, -13.75)
  line L171 (-103.2014, -13.75) -> (-110.7014, -26.7404)
  line L172 (-101.0363, -15) -> (-108.5363, -27.9904)
  line L173 (-98.8712, -16.25) -> (-106.3712, -29.2404)
  line L174 (-110.7014, -26.7404) -> (-117.1966, -22.9904)
  line L175 (-117.1966, -22.9904) -> (-119.6966, -27.3205)
  line L176 (-99.876, -32.9904) -> (-106.3712, -29.2404)
  line L177 (-102.376, -37.3205) -> (-99.876, -32.9904)
  line L178 (-119.6966, -27.3205) -> (-102.376, -37.3205)
  line L179 (-66.3953, -35) -> (-73.8953, -22.0096) construction
  line L180 (-66.3953, -35) -> (-64.2302, -36.25)
  line L181 (-64.2302, -36.25) -> (-68.5603, -33.75)
  line L182 (-68.5603, -33.75) -> (-76.0603, -46.7404)
  line L183 (-66.3953, -35) -> (-73.8953, -47.9904)
  line L184 (-64.2302, -36.25) -> (-71.7302, -49.2404)
  line L185 (-76.0603, -46.7404) -> (-82.5555, -42.9904)
  line L186 (-82.5555, -42.9904) -> (-85.0555, -47.3205)
  line L187 (-65.235, -52.9904) -> (-71.7302, -49.2404)
  line L188 (-67.735, -57.3205) -> (-65.235, -52.9904)
  line L189 (-85.0555, -47.3205) -> (-67.735, -57.3205)
  line L190 (-31.7543, -55) -> (-39.2543, -42.0096) construction
  line L191 (-31.7543, -55) -> (-29.5892, -56.25)
  line L192 (-29.5892, -56.25) -> (-33.9193, -53.75)
  line L193 (-33.9193, -53.75) -> (-41.4193, -66.7404)
  line L194 (-31.7543, -55) -> (-39.2543, -67.9904)
  line L195 (-29.5892, -56.25) -> (-37.0892, -69.2404)
  line L196 (-41.4193, -66.7404) -> (-47.9145, -62.9904)
  line L197 (-47.9145, -62.9904) -> (-50.4145, -67.3205)
  line L198 (-30.594, -72.9904) -> (-37.0892, -69.2404)
  line L199 (-33.094, -77.3205) -> (-30.594, -72.9904)
  line L200 (-50.4145, -67.3205) -> (-33.094, -77.3205)
  point P0 (0, 0)
  dimension "d24" = 15
  dimension "d25" = 120
  dimension "d26" = 10
  dimension "d27" = 5
  dimension "d28" = 20
  dimension "d29" = 90
  dimension "d30" = 5
  dimension "d31" = 2.5
  dimension "d32" = 5
  dimension "d35" = 120
  dimension "d39" = 40
  dimension "d42" = 40
  dimension "d47" = 40
  dimension "d50" = 40
extrude "Extrusion5" add sketch "Sketch3" against normal blind 7.5
properties part number "Base2"
